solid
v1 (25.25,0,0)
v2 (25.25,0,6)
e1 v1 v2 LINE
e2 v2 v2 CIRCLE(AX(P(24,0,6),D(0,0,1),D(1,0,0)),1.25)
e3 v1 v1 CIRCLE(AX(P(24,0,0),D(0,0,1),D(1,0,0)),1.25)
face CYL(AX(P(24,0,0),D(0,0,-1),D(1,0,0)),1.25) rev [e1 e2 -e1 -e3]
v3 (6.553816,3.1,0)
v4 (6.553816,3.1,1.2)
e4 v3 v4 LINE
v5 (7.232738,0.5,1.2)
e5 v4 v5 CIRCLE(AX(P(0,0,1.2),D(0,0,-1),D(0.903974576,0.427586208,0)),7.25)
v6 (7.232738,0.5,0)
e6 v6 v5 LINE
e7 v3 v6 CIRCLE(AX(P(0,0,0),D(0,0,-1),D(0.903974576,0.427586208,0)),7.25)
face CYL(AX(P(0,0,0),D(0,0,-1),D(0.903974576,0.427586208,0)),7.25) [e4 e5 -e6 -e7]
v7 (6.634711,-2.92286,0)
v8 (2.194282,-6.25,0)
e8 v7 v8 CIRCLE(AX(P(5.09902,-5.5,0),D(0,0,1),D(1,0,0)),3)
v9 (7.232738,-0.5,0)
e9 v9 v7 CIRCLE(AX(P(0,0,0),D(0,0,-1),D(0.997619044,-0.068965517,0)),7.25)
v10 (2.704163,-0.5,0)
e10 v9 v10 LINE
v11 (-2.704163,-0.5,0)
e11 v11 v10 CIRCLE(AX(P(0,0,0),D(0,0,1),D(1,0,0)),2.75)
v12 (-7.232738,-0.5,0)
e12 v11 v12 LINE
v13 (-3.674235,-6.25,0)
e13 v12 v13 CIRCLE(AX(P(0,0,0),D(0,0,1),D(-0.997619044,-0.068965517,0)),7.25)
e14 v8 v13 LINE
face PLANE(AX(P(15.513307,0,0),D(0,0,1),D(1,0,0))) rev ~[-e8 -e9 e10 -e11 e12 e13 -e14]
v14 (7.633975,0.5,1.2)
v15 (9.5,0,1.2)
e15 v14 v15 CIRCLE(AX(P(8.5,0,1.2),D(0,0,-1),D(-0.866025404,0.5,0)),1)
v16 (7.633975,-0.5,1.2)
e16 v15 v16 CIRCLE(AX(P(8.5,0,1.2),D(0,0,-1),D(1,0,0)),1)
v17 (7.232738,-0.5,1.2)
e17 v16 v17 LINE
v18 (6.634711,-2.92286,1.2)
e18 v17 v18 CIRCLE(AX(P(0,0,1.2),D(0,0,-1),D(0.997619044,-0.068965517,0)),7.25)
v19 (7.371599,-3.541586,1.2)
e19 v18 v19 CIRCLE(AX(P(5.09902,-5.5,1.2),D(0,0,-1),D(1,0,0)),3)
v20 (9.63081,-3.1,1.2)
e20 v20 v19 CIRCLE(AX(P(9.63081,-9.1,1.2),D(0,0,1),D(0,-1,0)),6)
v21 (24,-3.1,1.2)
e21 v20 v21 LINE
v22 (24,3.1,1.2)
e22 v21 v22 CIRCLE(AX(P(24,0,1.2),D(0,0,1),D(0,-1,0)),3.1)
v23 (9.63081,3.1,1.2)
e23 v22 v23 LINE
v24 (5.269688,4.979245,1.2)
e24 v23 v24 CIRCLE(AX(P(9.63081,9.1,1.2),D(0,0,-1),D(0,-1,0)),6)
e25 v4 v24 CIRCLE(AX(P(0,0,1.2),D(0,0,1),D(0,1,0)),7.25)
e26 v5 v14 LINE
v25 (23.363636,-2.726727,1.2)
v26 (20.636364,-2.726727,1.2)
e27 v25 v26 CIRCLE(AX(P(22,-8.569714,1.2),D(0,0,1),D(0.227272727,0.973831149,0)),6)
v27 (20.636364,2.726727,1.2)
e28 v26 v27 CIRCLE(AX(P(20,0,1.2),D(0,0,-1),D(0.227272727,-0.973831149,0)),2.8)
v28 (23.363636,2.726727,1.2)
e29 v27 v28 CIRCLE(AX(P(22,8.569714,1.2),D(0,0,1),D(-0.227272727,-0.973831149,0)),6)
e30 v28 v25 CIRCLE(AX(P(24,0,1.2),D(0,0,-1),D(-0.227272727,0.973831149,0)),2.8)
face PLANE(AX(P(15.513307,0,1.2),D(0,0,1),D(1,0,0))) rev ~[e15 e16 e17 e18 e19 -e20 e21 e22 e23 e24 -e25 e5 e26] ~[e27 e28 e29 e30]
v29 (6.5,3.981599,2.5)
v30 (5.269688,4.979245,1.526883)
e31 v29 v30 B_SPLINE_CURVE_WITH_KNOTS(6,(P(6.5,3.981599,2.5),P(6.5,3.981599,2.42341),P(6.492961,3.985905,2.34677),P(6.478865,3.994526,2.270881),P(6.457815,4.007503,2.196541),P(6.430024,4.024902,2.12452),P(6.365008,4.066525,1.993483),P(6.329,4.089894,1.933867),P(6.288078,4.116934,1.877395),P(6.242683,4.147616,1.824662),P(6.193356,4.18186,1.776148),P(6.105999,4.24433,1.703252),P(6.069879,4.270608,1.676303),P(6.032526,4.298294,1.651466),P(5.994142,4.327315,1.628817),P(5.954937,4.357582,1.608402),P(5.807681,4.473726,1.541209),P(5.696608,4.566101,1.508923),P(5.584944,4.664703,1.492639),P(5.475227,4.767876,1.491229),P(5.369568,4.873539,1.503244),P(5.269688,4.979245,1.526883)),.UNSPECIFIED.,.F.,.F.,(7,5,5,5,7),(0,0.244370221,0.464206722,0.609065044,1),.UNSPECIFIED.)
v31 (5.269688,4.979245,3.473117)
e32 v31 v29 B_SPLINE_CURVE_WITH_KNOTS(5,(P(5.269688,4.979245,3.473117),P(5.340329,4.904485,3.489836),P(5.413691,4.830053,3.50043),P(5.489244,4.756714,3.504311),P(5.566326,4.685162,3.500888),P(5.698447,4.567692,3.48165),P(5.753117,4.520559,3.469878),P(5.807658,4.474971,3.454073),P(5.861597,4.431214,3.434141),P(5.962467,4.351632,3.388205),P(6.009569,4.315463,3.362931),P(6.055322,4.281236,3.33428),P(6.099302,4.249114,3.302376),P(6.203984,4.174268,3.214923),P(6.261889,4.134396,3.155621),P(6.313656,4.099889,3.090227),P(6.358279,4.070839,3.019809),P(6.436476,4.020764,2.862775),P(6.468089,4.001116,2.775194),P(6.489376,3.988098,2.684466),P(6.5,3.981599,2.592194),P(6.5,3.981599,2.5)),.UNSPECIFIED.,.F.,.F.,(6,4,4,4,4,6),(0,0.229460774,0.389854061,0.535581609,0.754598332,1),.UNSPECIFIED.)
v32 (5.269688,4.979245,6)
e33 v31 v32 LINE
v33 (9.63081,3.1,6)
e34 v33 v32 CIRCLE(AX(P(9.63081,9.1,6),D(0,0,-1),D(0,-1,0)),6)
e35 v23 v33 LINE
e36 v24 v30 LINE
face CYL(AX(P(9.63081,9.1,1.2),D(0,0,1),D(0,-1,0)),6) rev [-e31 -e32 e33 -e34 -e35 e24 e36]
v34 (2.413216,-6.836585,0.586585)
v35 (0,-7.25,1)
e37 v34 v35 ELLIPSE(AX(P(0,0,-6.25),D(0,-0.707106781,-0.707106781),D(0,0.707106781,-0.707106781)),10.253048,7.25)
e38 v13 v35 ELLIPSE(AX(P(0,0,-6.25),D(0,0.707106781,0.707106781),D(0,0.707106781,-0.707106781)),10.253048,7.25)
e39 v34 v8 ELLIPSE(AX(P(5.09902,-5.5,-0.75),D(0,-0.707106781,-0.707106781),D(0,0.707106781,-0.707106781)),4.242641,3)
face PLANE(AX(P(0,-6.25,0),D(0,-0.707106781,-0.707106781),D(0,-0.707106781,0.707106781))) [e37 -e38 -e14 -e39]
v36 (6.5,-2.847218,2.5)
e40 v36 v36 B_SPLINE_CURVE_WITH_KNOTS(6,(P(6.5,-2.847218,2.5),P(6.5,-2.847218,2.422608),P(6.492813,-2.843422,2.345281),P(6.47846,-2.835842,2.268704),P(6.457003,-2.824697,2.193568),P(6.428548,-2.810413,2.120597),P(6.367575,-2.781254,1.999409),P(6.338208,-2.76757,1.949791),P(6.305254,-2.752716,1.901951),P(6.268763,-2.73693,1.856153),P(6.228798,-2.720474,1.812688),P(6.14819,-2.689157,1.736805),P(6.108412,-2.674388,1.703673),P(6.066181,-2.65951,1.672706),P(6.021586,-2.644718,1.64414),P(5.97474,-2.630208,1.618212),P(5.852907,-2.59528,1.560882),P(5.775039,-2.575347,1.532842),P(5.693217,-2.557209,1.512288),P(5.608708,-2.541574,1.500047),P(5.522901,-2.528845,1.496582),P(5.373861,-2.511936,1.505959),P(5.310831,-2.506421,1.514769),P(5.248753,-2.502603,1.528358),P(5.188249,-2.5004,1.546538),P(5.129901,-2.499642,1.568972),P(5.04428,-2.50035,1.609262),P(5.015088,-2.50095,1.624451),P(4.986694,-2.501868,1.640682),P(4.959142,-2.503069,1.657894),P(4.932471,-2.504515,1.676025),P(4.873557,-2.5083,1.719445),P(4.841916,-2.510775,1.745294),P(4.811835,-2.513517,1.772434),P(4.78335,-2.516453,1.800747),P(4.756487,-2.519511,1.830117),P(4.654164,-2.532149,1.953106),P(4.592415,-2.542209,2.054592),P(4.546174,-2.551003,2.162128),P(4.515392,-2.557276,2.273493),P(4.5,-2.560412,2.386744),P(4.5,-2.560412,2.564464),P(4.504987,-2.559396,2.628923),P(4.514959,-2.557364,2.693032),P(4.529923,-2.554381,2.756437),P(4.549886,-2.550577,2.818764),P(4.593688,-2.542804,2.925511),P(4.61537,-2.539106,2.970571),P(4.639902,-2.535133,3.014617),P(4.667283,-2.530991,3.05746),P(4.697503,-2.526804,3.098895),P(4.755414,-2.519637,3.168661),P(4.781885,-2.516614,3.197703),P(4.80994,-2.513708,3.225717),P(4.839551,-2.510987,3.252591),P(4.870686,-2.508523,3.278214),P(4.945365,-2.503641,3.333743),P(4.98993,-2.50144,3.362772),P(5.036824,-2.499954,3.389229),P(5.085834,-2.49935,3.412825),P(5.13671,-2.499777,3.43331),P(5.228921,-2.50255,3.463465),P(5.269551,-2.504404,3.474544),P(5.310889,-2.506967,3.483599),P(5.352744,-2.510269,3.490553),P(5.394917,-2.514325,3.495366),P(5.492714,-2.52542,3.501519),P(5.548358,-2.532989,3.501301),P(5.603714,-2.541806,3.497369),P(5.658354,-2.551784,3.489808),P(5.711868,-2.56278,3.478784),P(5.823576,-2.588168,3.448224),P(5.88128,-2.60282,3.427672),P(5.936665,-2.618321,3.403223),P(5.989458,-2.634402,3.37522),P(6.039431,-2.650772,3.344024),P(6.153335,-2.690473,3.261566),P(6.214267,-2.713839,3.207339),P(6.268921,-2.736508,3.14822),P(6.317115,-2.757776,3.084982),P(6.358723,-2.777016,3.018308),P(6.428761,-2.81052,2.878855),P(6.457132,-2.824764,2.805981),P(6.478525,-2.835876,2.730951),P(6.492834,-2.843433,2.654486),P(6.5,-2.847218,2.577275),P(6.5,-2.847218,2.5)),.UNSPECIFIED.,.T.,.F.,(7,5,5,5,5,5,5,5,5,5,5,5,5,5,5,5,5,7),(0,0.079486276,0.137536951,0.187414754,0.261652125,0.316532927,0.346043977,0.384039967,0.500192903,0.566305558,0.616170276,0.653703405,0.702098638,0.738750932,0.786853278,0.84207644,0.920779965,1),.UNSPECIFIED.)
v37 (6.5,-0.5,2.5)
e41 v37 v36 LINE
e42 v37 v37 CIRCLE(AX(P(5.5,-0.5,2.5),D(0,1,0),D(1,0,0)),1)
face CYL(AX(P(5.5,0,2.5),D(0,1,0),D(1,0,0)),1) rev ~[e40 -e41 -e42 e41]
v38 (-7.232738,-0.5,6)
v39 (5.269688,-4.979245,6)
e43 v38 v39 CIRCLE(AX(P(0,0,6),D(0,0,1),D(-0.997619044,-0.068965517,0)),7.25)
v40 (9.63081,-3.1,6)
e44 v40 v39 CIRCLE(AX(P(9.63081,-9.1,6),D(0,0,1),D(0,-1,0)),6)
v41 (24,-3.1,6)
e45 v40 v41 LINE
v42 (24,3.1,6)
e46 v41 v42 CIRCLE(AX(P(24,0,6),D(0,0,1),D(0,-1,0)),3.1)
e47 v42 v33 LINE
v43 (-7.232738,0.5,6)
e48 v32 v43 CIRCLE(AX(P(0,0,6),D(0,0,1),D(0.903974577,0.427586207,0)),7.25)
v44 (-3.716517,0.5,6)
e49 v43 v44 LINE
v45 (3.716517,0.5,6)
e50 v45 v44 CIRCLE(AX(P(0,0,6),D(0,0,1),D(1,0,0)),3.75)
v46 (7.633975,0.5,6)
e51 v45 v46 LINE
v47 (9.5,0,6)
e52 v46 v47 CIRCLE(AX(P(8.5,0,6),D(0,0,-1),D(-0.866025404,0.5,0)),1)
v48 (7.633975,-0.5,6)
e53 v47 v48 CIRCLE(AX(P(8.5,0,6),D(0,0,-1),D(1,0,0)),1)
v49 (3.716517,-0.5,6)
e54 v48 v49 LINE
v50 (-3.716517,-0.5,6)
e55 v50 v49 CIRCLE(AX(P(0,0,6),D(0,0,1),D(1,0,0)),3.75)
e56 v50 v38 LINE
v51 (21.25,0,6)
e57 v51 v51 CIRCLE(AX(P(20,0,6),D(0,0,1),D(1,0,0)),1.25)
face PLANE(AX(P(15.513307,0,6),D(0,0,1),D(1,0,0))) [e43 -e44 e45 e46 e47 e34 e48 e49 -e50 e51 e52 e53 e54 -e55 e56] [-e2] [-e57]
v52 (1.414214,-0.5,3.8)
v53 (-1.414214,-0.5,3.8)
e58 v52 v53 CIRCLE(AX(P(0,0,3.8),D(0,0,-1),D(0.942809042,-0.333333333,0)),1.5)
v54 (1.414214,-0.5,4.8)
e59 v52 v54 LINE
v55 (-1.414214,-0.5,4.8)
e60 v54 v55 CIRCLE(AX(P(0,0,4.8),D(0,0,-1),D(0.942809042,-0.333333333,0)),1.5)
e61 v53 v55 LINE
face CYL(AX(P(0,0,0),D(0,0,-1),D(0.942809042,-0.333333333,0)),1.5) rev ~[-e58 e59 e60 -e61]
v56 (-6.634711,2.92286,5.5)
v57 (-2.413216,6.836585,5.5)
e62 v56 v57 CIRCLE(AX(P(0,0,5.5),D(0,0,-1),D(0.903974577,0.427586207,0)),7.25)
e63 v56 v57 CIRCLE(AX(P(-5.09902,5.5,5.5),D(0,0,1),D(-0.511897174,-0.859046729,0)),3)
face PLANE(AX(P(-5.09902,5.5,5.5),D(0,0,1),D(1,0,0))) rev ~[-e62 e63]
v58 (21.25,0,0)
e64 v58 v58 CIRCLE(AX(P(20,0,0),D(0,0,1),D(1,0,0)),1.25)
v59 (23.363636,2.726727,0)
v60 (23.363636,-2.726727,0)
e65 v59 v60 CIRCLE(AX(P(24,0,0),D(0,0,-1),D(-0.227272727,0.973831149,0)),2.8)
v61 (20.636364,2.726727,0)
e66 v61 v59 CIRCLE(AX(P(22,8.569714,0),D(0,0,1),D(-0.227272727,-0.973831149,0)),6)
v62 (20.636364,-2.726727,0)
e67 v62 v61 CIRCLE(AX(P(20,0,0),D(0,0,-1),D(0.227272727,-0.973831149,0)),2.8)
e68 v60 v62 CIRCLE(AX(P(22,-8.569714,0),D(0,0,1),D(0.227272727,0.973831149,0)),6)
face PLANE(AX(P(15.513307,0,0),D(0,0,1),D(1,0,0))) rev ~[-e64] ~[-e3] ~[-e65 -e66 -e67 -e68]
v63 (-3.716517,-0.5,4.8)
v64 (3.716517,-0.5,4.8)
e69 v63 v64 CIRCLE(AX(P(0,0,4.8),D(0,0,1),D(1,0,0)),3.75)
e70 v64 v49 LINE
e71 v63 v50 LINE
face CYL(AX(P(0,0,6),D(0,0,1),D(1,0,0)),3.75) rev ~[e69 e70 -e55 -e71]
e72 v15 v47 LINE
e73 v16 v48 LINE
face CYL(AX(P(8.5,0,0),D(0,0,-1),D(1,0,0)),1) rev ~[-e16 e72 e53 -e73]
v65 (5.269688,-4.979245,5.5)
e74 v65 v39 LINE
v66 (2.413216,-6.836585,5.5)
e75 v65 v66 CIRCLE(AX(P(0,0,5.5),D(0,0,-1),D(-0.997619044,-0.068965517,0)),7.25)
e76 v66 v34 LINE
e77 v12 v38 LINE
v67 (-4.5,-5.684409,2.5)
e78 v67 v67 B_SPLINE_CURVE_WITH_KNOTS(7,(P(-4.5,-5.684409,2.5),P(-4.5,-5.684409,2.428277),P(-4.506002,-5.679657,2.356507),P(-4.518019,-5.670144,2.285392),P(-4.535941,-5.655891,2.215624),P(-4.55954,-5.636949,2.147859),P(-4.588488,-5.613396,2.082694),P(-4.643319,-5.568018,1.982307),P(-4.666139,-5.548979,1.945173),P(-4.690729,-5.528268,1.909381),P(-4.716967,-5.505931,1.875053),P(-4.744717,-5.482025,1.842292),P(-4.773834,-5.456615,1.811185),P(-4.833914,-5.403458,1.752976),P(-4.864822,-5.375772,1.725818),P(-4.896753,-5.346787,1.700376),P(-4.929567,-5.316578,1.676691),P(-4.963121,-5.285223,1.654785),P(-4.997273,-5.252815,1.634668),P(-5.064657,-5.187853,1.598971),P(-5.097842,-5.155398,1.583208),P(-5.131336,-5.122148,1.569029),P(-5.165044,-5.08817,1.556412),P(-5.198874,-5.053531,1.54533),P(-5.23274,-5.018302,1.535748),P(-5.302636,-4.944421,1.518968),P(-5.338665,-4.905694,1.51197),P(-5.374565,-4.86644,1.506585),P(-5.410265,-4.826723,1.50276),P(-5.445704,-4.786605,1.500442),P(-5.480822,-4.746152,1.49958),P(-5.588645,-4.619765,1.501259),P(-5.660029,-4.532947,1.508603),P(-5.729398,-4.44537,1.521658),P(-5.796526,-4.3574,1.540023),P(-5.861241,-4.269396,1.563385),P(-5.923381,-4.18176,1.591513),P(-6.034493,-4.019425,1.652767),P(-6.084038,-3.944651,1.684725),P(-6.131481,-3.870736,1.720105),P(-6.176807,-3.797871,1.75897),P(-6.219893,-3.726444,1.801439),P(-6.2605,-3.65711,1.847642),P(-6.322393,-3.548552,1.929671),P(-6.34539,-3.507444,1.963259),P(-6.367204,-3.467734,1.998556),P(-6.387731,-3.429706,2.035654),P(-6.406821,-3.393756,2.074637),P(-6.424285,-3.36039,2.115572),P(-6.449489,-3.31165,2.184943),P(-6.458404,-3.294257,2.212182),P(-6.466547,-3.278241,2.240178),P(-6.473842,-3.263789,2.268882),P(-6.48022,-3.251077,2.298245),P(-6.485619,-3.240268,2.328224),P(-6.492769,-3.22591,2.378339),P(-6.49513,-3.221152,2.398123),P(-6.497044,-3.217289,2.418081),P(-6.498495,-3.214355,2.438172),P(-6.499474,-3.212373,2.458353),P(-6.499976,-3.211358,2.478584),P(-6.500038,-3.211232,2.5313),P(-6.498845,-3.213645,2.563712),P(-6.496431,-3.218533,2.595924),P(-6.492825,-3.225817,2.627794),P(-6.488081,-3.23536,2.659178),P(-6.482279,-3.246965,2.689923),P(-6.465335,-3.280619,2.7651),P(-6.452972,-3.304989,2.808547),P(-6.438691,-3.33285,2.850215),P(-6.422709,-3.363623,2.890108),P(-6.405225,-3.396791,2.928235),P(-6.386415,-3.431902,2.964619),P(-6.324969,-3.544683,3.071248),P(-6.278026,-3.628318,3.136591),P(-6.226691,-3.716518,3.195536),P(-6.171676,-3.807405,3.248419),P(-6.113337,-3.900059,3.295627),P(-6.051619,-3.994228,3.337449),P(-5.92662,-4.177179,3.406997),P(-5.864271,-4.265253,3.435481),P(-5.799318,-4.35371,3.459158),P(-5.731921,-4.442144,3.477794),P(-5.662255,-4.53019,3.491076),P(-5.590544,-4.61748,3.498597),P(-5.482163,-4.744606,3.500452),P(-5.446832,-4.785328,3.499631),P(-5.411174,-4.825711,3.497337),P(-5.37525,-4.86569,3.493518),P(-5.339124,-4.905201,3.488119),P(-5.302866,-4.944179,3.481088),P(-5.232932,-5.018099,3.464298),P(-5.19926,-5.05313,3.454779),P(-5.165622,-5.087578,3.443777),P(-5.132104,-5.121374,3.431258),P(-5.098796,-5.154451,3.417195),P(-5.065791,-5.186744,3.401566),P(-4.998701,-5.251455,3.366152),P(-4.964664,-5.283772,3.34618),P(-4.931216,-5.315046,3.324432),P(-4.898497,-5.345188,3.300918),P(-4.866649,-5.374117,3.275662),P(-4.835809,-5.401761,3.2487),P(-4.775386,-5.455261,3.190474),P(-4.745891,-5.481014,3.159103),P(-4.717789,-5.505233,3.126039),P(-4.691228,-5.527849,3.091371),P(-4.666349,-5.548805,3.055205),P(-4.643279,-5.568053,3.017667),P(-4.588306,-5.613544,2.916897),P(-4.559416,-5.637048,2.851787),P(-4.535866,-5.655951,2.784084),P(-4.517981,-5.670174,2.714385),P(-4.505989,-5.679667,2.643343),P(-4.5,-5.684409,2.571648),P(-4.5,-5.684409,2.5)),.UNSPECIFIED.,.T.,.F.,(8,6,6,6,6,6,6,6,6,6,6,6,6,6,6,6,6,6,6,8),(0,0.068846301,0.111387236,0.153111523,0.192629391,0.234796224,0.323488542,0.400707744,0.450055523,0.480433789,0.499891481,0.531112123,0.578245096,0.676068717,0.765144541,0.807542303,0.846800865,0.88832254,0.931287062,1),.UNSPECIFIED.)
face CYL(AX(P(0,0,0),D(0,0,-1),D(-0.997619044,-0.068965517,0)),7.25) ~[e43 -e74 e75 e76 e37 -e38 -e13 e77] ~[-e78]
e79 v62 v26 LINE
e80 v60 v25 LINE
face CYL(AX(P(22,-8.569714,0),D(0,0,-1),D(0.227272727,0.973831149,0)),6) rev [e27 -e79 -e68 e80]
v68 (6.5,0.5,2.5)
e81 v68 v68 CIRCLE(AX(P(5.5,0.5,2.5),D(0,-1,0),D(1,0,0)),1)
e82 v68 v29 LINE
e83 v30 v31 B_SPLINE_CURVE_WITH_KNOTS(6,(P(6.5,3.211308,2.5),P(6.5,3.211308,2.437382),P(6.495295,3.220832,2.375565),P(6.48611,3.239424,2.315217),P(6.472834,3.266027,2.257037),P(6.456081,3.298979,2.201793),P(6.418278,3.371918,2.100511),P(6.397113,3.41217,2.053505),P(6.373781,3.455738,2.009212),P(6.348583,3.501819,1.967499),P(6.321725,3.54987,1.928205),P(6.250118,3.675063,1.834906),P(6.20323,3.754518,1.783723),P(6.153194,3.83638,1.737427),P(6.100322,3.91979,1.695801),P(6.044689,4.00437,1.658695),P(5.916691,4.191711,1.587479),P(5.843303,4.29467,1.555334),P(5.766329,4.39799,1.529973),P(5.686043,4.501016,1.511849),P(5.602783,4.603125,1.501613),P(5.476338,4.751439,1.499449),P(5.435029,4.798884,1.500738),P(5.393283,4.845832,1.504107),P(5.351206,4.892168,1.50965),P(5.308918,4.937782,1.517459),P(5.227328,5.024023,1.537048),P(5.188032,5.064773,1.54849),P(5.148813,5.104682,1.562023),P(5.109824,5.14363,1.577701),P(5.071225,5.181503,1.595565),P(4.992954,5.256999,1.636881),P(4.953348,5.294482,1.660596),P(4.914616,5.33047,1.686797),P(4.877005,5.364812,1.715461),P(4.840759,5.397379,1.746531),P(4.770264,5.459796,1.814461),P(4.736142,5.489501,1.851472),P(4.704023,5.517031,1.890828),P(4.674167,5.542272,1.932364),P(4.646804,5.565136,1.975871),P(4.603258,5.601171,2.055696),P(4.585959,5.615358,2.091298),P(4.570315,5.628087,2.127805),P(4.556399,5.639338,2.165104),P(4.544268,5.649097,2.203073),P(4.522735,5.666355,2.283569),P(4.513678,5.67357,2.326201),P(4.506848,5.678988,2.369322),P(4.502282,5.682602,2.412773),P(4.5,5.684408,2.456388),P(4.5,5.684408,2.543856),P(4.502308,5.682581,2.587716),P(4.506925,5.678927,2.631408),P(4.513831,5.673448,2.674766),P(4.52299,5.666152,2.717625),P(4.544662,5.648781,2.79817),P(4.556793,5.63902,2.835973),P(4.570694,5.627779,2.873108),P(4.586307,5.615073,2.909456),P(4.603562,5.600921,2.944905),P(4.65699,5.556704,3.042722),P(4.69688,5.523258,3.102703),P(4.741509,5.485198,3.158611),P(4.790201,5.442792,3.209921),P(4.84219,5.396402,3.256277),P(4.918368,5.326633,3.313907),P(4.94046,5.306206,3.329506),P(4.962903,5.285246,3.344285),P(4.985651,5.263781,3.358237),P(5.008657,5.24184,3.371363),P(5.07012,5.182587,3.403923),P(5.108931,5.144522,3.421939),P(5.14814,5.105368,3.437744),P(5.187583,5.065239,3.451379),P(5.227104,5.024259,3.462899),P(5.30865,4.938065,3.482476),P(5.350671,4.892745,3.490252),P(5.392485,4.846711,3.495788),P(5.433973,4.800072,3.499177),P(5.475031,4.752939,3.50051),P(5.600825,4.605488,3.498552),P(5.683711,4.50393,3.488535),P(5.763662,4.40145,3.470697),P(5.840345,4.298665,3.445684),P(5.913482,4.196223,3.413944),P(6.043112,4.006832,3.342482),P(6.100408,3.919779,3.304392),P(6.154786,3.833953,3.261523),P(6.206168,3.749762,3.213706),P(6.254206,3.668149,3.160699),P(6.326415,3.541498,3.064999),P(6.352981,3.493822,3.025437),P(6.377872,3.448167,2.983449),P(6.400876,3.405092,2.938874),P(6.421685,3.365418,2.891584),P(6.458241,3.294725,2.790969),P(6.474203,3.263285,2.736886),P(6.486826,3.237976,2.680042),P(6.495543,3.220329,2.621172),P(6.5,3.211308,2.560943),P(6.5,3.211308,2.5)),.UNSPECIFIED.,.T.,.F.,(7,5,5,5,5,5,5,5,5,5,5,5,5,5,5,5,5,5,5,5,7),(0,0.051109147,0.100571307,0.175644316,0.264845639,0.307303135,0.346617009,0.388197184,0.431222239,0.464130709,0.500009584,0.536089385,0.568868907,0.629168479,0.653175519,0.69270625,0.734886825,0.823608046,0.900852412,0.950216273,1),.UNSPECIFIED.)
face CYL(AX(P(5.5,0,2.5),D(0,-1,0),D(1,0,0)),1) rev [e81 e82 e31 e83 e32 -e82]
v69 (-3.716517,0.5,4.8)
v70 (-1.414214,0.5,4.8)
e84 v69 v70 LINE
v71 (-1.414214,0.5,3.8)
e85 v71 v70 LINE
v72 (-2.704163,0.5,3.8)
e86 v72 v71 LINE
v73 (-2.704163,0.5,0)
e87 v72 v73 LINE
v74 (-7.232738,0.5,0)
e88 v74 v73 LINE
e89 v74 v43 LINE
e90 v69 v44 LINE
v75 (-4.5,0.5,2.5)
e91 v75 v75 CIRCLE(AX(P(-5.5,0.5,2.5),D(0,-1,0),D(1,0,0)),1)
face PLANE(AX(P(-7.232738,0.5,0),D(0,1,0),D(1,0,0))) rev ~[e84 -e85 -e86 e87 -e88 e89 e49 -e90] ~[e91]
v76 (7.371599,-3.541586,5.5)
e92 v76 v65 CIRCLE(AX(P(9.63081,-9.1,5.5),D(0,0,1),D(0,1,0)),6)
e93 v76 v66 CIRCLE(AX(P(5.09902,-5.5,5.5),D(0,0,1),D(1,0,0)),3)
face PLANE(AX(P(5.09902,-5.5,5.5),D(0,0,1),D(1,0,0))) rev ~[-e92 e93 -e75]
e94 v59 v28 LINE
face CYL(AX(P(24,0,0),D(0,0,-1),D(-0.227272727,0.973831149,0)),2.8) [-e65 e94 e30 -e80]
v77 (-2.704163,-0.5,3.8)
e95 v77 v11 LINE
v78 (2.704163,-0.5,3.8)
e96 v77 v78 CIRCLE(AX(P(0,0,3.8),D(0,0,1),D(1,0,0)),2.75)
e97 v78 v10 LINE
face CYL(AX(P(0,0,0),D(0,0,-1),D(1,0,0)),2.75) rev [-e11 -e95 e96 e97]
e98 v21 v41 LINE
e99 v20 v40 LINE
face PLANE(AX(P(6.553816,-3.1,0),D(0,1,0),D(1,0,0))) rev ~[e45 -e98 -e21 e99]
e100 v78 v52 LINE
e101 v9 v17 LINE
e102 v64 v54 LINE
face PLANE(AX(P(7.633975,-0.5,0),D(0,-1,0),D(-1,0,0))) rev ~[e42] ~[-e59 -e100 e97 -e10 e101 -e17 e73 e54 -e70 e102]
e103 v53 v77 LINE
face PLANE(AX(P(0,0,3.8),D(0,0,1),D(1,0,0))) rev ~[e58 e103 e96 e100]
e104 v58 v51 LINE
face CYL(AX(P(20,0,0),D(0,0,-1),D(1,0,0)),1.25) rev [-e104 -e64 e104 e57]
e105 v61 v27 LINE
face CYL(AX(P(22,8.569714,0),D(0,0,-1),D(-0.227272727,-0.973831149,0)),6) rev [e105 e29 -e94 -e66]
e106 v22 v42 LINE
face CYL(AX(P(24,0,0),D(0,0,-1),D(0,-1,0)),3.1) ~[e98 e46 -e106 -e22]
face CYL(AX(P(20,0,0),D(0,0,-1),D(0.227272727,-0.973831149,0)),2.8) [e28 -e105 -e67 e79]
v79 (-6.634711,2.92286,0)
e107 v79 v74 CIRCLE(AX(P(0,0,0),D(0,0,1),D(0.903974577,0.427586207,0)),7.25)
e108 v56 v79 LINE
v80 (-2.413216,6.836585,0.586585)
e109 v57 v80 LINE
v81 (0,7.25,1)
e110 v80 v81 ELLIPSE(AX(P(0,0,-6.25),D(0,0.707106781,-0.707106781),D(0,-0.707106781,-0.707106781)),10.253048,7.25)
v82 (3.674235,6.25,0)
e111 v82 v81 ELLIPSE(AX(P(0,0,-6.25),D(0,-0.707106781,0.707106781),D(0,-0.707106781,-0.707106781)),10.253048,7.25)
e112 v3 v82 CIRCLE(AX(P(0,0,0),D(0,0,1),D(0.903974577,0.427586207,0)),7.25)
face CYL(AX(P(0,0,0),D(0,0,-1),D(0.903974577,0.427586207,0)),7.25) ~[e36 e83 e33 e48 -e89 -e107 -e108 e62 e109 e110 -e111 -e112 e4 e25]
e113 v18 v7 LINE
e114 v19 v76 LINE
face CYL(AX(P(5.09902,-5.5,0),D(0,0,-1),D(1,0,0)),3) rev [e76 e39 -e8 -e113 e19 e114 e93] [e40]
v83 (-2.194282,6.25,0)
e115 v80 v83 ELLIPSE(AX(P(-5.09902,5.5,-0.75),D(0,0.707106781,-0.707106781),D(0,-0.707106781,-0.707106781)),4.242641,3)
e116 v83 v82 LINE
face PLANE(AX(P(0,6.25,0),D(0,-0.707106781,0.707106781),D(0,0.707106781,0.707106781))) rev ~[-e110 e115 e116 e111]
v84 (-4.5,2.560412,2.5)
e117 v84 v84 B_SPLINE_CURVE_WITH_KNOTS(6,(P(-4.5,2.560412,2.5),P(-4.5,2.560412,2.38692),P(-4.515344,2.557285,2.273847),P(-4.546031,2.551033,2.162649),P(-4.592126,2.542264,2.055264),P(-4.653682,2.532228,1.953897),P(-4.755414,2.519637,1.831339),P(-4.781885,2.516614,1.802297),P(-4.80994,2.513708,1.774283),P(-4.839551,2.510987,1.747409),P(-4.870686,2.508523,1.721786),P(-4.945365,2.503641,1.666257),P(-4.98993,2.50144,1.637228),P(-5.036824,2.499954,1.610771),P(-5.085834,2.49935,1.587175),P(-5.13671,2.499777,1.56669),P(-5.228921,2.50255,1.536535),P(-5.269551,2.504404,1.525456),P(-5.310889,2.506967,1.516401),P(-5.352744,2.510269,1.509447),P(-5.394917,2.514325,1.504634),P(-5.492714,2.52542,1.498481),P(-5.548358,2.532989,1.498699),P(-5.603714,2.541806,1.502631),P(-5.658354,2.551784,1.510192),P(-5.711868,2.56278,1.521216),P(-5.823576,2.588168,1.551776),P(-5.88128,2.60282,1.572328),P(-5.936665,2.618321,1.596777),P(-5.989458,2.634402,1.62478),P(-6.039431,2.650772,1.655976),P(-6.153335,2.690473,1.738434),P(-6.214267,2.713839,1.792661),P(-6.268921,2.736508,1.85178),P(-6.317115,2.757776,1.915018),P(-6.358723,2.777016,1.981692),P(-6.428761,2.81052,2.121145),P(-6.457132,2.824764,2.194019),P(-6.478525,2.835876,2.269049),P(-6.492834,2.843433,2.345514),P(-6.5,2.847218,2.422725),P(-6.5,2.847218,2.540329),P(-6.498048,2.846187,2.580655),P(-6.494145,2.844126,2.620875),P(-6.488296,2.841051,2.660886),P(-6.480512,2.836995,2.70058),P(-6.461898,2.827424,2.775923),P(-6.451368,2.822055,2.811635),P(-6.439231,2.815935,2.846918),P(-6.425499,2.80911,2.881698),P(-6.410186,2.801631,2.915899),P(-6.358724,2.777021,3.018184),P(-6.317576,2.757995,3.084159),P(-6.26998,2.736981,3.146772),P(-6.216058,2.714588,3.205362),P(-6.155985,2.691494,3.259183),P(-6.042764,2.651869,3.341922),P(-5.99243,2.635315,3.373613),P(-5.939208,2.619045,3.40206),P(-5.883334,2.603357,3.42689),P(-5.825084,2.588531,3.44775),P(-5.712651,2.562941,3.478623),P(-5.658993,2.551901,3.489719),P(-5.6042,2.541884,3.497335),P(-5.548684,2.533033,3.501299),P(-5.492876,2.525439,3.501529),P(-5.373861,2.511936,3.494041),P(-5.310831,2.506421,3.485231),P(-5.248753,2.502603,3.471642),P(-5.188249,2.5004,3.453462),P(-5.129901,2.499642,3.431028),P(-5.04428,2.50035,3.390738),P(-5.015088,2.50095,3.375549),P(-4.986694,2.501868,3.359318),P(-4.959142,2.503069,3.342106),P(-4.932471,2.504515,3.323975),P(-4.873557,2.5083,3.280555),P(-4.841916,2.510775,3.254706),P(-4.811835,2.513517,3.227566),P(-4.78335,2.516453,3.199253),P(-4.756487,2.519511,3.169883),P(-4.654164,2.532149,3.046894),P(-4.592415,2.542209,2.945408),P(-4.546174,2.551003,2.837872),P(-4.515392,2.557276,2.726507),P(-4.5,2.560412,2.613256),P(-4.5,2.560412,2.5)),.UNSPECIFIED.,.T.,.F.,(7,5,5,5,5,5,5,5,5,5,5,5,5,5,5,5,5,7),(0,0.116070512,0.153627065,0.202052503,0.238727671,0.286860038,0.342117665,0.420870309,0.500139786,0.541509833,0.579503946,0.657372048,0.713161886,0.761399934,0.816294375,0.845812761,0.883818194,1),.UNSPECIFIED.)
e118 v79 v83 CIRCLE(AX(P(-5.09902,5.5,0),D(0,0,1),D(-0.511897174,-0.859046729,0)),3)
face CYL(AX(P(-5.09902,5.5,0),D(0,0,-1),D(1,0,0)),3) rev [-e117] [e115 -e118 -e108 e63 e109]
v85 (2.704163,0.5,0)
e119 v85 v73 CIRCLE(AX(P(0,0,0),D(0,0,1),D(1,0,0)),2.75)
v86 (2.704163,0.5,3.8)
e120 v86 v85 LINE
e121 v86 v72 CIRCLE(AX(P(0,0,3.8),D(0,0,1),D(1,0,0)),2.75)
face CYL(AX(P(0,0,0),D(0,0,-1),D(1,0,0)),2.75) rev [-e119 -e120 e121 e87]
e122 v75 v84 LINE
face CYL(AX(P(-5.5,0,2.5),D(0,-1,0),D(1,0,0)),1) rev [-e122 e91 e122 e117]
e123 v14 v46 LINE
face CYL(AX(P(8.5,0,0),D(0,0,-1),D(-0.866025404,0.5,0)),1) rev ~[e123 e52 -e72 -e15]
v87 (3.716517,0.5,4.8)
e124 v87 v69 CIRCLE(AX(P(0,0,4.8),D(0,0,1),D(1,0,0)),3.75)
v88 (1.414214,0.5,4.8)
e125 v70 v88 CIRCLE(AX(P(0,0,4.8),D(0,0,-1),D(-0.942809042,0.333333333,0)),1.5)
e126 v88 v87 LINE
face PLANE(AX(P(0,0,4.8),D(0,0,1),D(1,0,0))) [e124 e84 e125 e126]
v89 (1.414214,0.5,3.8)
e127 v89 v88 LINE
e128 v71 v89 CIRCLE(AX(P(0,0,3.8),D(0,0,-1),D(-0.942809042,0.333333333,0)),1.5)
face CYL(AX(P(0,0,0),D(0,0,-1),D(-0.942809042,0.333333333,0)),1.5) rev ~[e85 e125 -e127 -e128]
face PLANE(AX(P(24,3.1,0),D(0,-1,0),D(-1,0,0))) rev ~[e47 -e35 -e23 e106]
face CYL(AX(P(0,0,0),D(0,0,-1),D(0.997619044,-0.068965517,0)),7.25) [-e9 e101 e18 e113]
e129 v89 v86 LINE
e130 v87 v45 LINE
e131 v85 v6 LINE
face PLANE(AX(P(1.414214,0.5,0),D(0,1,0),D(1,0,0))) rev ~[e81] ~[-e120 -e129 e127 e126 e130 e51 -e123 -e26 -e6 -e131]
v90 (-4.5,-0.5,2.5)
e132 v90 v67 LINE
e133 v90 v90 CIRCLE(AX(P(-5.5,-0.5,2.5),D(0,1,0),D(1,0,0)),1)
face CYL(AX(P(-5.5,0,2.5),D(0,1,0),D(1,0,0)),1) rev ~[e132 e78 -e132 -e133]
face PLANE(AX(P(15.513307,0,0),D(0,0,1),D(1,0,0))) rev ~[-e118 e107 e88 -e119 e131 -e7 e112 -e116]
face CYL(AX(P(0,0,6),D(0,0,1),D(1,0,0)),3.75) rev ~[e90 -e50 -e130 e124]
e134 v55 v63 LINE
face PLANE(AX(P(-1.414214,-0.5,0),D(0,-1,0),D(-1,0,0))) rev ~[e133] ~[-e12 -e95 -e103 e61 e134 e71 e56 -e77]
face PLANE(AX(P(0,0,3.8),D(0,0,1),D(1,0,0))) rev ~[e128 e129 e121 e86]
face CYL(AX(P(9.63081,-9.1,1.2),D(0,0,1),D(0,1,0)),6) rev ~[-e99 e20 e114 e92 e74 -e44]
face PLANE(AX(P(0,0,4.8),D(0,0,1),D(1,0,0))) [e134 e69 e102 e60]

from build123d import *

# Parameters (mm, degrees)
SKETCH_1_R               = 1.25
EXTRUDE_1_DEPTH          = 6
CUT_EXTRUDE_1_DEPTH      = 1.2
SKETCH_1_4_R             = 2.75
CUT_EXTRUDE_2_DEPTH      = 3.8
CUT_EXTRUDE_START        = 6
SKETCH_1_5_R             = 3.75
CUT_EXTRUDE_3_DEPTH      = 1.2
FILLET_1_R               = 6
SKETCH_2_R               = 3
CUT_EXTRUDE_4_DEPTH      = 5.5
SKETCH_3_R               = 1
CUT_EXTRUDE_5_DEPTH      = 8.25
CUT_EXTRUDE_5_DEPTH_BACK = 8.25
CUT_EXTRUDE_6_DEPTH      = 28.1
CUT_EXTRUDE_6_DEPTH_BACK = 8.232738171


with BuildPart() as part:
    # Эскиз1 → Бобышка-Вытянуть1 (new body)
    with BuildSketch(Plane.XY):
        with BuildLine():
            ThreePointArc((24, -3.1), (27.1, 0), (24, 3.1))
            Line((24, 3.1), (6.553815682, 3.1))
            ThreePointArc((6.553815682, 3.1), (7.014789099, 1.831729757), (7.232738071, 0.5))
            Line((7.232738071, 0.5), (7.633974596, 0.5))
            ThreePointArc((7.633974596, 0.5), (8.758819045, 0.965925826), (9.5, 0))
            ThreePointArc((9.5, 0), (8.758819045, -0.965925826), (7.633974596, -0.5))
            Line((7.633974596, -0.5), (7.232738071, -0.5))
            ThreePointArc((7.232738071, -0.5), (7.014789099, -1.831729757), (6.553815682, -3.1))
            Line((6.553815682, -3.1), (24, -3.1))
        make_face()
        with BuildLine():
            ThreePointArc((23.363636364, 2.726727218), (26.8, 0), (23.363636364, -2.726727218))
            ThreePointArc((23.363636364, -2.726727218), (22, -2.569714114), (20.636363636, -2.726727218))
            ThreePointArc((20.636363636, -2.726727218), (17.2, 0), (20.636363636, 2.726727218))
            ThreePointArc((20.636363636, 2.726727218), (22, 2.569714114), (23.363636364, 2.726727218))
        make_face(mode=Mode.SUBTRACT)
        with BuildLine():
            ThreePointArc((20.636363636, 2.726727218), (22, 2.569714114), (23.363636364, 2.726727218))
            ThreePointArc((23.363636364, 2.726727218), (26.8, 0), (23.363636364, -2.726727218))
            ThreePointArc((23.363636364, -2.726727218), (22, -2.569714114), (20.636363636, -2.726727218))
            ThreePointArc((20.636363636, -2.726727218), (17.2, 0), (20.636363636, 2.726727218))
        make_face()
        with Locations((20, 0)):
            Circle(SKETCH_1_R, mode=Mode.SUBTRACT)
        with Locations((24, 0)):
            Circle(SKETCH_1_R, mode=Mode.SUBTRACT)
        with BuildLine():
            ThreePointArc((7.232738071, 0.5), (7.014789099, 1.831729757), (6.553815682, 3.1))
            ThreePointArc((6.553815682, 3.1), (-1.343589931, 7.124413386), (-7.232738071, 0.5))
            Line((-7.232738071, 0.5), (-3.716517187, 0.5))
            ThreePointArc((-3.716517187, 0.5), (0, 3.75), (3.716517187, 0.5))
            Line((3.716517187, 0.5), (7.232738071, 0.5))
        make_face()
        with BuildLine():
            ThreePointArc((3.716517187, 0.5), (0, 3.75), (-3.716517187, 0.5))
            Line((-3.716517187, 0.5), (-2.704163457, 0.5))
            ThreePointArc((-2.704163457, 0.5), (0, 2.75), (2.704163457, 0.5))
            Line((2.704163457, 0.5), (3.716517187, 0.5))
        make_face()
        with BuildLine():
            ThreePointArc((2.704163457, 0.5), (0, 2.75), (-2.704163457, 0.5))
            Line((-2.704163457, 0.5), (-1.414213562, 0.5))
            ThreePointArc((-1.414213562, 0.5), (0, 1.5), (1.414213562, 0.5))
            Line((1.414213562, 0.5), (2.704163457, 0.5))
        make_face()
        with BuildLine():
            ThreePointArc((-7.232738071, -0.5), (-1.343589931, -7.124413386), (6.553815682, -3.1))
            ThreePointArc((6.553815682, -3.1), (7.014789099, -1.831729757), (7.232738071, -0.5))
            Line((7.232738071, -0.5), (3.716517187, -0.5))
            ThreePointArc((3.716517187, -0.5), (0, -3.75), (-3.716517187, -0.5))
            Line((-3.716517187, -0.5), (-7.232738071, -0.5))
        make_face()
        with BuildLine():
            Line((-2.704163457, -0.5), (-3.716517187, -0.5))
            ThreePointArc((-3.716517187, -0.5), (0, -3.75), (3.716517187, -0.5))
            Line((3.716517187, -0.5), (2.704163457, -0.5))
            ThreePointArc((2.704163457, -0.5), (0, -2.75), (-2.704163457, -0.5))
        make_face()
        with BuildLine():
            Line((-1.414213562, -0.5), (-2.704163457, -0.5))
            ThreePointArc((-2.704163457, -0.5), (0, -2.75), (2.704163457, -0.5))
            Line((2.704163457, -0.5), (1.414213562, -0.5))
            ThreePointArc((1.414213562, -0.5), (0, -1.5), (-1.414213562, -0.5))
        make_face()
    extrude(amount=EXTRUDE_1_DEPTH)

    # Эскиз1<3> → Вырез-Вытянуть1 (cut)
    with BuildSketch(Plane.XY):
        with BuildLine():
            ThreePointArc((24, -3.1), (27.1, 0), (24, 3.1))
            Line((24, 3.1), (6.553815682, 3.1))
            ThreePointArc((6.553815682, 3.1), (7.014789099, 1.831729757), (7.232738071, 0.5))
            Line((7.232738071, 0.5), (7.633974596, 0.5))
            ThreePointArc((7.633974596, 0.5), (8.758819045, 0.965925826), (9.5, 0))
            ThreePointArc((9.5, 0), (8.758819045, -0.965925826), (7.633974596, -0.5))
            Line((7.633974596, -0.5), (7.232738071, -0.5))
            ThreePointArc((7.232738071, -0.5), (7.014789099, -1.831729757), (6.553815682, -3.1))
            Line((6.553815682, -3.1), (24, -3.1))
        make_face()
        with BuildLine():
            ThreePointArc((23.363636364, 2.726727218), (26.8, 0), (23.363636364, -2.726727218))
            ThreePointArc((23.363636364, -2.726727218), (22, -2.569714114), (20.636363636, -2.726727218))
            ThreePointArc((20.636363636, -2.726727218), (17.2, 0), (20.636363636, 2.726727218))
            ThreePointArc((20.636363636, 2.726727218), (22, 2.569714114), (23.363636364, 2.726727218))
        make_face(mode=Mode.SUBTRACT)
    extrude(amount=CUT_EXTRUDE_1_DEPTH, mode=Mode.SUBTRACT)

    # Эскиз1<4> → Вырез-Вытянуть2 (cut)
    with BuildSketch(Plane.XY):
        Circle(SKETCH_1_4_R)
    extrude(amount=CUT_EXTRUDE_2_DEPTH, mode=Mode.SUBTRACT)

    # Эскиз1<5> → Вырез-Вытянуть3 (cut)
    with BuildSketch(Plane.XY.offset(CUT_EXTRUDE_START)):
        Circle(SKETCH_1_5_R)
    extrude(amount=-CUT_EXTRUDE_3_DEPTH, mode=Mode.SUBTRACT)

    # Скругление1
    fillet_1_edges = [part.edges().sort_by_distance(p)[0] for p in [
        (6.553815682, 3.1, 3.6),
        (6.553815682, -3.1, 3.6),
    ]]
    fillet(fillet_1_edges, radius=FILLET_1_R)

    # Эскиз2 → Вырез-Вытянуть4 (cut)
    with BuildSketch(Plane.XY):
        with Locations((5.099019514, -5.5)):
            Circle(SKETCH_2_R)
        with Locations((-5.099019514, 5.5)):
            Circle(SKETCH_2_R)
    extrude(amount=CUT_EXTRUDE_4_DEPTH, mode=Mode.SUBTRACT)

    # Эскиз3 → Вырез-Вытянуть5 (cut, two sides)
    with BuildSketch(Plane(origin=(0, 0, 0), x_dir=(1, 0, 0), z_dir=(0, 1, 0))) as cut_extrude_5_sk:
        with Locations((5.5, -2.5)):
            Circle(SKETCH_3_R)
        with Locations((-5.5, -2.5)):
            Circle(SKETCH_3_R)
    extrude(amount=CUT_EXTRUDE_5_DEPTH, mode=Mode.SUBTRACT)
    extrude(cut_extrude_5_sk.sketch, amount=-CUT_EXTRUDE_5_DEPTH_BACK, mode=Mode.SUBTRACT)

    # Эскиз4 → Вырез-Вытянуть6 (cut, two sides)
    with BuildSketch(Plane(origin=(0, 0, 0), x_dir=(0, 0, -1), z_dir=(1, 0, 0))) as cut_extrude_6_sk:
        Polygon((0, -6.25), (-1, -7.25), (0, -7.25), align=None)
        Polygon((0, 7.25), (0, 6.25), (-1, 7.25), align=None)
    extrude(amount=CUT_EXTRUDE_6_DEPTH, mode=Mode.SUBTRACT)
    extrude(cut_extrude_6_sk.sketch, amount=-CUT_EXTRUDE_6_DEPTH_BACK, mode=Mode.SUBTRACT)


solid = part.part
